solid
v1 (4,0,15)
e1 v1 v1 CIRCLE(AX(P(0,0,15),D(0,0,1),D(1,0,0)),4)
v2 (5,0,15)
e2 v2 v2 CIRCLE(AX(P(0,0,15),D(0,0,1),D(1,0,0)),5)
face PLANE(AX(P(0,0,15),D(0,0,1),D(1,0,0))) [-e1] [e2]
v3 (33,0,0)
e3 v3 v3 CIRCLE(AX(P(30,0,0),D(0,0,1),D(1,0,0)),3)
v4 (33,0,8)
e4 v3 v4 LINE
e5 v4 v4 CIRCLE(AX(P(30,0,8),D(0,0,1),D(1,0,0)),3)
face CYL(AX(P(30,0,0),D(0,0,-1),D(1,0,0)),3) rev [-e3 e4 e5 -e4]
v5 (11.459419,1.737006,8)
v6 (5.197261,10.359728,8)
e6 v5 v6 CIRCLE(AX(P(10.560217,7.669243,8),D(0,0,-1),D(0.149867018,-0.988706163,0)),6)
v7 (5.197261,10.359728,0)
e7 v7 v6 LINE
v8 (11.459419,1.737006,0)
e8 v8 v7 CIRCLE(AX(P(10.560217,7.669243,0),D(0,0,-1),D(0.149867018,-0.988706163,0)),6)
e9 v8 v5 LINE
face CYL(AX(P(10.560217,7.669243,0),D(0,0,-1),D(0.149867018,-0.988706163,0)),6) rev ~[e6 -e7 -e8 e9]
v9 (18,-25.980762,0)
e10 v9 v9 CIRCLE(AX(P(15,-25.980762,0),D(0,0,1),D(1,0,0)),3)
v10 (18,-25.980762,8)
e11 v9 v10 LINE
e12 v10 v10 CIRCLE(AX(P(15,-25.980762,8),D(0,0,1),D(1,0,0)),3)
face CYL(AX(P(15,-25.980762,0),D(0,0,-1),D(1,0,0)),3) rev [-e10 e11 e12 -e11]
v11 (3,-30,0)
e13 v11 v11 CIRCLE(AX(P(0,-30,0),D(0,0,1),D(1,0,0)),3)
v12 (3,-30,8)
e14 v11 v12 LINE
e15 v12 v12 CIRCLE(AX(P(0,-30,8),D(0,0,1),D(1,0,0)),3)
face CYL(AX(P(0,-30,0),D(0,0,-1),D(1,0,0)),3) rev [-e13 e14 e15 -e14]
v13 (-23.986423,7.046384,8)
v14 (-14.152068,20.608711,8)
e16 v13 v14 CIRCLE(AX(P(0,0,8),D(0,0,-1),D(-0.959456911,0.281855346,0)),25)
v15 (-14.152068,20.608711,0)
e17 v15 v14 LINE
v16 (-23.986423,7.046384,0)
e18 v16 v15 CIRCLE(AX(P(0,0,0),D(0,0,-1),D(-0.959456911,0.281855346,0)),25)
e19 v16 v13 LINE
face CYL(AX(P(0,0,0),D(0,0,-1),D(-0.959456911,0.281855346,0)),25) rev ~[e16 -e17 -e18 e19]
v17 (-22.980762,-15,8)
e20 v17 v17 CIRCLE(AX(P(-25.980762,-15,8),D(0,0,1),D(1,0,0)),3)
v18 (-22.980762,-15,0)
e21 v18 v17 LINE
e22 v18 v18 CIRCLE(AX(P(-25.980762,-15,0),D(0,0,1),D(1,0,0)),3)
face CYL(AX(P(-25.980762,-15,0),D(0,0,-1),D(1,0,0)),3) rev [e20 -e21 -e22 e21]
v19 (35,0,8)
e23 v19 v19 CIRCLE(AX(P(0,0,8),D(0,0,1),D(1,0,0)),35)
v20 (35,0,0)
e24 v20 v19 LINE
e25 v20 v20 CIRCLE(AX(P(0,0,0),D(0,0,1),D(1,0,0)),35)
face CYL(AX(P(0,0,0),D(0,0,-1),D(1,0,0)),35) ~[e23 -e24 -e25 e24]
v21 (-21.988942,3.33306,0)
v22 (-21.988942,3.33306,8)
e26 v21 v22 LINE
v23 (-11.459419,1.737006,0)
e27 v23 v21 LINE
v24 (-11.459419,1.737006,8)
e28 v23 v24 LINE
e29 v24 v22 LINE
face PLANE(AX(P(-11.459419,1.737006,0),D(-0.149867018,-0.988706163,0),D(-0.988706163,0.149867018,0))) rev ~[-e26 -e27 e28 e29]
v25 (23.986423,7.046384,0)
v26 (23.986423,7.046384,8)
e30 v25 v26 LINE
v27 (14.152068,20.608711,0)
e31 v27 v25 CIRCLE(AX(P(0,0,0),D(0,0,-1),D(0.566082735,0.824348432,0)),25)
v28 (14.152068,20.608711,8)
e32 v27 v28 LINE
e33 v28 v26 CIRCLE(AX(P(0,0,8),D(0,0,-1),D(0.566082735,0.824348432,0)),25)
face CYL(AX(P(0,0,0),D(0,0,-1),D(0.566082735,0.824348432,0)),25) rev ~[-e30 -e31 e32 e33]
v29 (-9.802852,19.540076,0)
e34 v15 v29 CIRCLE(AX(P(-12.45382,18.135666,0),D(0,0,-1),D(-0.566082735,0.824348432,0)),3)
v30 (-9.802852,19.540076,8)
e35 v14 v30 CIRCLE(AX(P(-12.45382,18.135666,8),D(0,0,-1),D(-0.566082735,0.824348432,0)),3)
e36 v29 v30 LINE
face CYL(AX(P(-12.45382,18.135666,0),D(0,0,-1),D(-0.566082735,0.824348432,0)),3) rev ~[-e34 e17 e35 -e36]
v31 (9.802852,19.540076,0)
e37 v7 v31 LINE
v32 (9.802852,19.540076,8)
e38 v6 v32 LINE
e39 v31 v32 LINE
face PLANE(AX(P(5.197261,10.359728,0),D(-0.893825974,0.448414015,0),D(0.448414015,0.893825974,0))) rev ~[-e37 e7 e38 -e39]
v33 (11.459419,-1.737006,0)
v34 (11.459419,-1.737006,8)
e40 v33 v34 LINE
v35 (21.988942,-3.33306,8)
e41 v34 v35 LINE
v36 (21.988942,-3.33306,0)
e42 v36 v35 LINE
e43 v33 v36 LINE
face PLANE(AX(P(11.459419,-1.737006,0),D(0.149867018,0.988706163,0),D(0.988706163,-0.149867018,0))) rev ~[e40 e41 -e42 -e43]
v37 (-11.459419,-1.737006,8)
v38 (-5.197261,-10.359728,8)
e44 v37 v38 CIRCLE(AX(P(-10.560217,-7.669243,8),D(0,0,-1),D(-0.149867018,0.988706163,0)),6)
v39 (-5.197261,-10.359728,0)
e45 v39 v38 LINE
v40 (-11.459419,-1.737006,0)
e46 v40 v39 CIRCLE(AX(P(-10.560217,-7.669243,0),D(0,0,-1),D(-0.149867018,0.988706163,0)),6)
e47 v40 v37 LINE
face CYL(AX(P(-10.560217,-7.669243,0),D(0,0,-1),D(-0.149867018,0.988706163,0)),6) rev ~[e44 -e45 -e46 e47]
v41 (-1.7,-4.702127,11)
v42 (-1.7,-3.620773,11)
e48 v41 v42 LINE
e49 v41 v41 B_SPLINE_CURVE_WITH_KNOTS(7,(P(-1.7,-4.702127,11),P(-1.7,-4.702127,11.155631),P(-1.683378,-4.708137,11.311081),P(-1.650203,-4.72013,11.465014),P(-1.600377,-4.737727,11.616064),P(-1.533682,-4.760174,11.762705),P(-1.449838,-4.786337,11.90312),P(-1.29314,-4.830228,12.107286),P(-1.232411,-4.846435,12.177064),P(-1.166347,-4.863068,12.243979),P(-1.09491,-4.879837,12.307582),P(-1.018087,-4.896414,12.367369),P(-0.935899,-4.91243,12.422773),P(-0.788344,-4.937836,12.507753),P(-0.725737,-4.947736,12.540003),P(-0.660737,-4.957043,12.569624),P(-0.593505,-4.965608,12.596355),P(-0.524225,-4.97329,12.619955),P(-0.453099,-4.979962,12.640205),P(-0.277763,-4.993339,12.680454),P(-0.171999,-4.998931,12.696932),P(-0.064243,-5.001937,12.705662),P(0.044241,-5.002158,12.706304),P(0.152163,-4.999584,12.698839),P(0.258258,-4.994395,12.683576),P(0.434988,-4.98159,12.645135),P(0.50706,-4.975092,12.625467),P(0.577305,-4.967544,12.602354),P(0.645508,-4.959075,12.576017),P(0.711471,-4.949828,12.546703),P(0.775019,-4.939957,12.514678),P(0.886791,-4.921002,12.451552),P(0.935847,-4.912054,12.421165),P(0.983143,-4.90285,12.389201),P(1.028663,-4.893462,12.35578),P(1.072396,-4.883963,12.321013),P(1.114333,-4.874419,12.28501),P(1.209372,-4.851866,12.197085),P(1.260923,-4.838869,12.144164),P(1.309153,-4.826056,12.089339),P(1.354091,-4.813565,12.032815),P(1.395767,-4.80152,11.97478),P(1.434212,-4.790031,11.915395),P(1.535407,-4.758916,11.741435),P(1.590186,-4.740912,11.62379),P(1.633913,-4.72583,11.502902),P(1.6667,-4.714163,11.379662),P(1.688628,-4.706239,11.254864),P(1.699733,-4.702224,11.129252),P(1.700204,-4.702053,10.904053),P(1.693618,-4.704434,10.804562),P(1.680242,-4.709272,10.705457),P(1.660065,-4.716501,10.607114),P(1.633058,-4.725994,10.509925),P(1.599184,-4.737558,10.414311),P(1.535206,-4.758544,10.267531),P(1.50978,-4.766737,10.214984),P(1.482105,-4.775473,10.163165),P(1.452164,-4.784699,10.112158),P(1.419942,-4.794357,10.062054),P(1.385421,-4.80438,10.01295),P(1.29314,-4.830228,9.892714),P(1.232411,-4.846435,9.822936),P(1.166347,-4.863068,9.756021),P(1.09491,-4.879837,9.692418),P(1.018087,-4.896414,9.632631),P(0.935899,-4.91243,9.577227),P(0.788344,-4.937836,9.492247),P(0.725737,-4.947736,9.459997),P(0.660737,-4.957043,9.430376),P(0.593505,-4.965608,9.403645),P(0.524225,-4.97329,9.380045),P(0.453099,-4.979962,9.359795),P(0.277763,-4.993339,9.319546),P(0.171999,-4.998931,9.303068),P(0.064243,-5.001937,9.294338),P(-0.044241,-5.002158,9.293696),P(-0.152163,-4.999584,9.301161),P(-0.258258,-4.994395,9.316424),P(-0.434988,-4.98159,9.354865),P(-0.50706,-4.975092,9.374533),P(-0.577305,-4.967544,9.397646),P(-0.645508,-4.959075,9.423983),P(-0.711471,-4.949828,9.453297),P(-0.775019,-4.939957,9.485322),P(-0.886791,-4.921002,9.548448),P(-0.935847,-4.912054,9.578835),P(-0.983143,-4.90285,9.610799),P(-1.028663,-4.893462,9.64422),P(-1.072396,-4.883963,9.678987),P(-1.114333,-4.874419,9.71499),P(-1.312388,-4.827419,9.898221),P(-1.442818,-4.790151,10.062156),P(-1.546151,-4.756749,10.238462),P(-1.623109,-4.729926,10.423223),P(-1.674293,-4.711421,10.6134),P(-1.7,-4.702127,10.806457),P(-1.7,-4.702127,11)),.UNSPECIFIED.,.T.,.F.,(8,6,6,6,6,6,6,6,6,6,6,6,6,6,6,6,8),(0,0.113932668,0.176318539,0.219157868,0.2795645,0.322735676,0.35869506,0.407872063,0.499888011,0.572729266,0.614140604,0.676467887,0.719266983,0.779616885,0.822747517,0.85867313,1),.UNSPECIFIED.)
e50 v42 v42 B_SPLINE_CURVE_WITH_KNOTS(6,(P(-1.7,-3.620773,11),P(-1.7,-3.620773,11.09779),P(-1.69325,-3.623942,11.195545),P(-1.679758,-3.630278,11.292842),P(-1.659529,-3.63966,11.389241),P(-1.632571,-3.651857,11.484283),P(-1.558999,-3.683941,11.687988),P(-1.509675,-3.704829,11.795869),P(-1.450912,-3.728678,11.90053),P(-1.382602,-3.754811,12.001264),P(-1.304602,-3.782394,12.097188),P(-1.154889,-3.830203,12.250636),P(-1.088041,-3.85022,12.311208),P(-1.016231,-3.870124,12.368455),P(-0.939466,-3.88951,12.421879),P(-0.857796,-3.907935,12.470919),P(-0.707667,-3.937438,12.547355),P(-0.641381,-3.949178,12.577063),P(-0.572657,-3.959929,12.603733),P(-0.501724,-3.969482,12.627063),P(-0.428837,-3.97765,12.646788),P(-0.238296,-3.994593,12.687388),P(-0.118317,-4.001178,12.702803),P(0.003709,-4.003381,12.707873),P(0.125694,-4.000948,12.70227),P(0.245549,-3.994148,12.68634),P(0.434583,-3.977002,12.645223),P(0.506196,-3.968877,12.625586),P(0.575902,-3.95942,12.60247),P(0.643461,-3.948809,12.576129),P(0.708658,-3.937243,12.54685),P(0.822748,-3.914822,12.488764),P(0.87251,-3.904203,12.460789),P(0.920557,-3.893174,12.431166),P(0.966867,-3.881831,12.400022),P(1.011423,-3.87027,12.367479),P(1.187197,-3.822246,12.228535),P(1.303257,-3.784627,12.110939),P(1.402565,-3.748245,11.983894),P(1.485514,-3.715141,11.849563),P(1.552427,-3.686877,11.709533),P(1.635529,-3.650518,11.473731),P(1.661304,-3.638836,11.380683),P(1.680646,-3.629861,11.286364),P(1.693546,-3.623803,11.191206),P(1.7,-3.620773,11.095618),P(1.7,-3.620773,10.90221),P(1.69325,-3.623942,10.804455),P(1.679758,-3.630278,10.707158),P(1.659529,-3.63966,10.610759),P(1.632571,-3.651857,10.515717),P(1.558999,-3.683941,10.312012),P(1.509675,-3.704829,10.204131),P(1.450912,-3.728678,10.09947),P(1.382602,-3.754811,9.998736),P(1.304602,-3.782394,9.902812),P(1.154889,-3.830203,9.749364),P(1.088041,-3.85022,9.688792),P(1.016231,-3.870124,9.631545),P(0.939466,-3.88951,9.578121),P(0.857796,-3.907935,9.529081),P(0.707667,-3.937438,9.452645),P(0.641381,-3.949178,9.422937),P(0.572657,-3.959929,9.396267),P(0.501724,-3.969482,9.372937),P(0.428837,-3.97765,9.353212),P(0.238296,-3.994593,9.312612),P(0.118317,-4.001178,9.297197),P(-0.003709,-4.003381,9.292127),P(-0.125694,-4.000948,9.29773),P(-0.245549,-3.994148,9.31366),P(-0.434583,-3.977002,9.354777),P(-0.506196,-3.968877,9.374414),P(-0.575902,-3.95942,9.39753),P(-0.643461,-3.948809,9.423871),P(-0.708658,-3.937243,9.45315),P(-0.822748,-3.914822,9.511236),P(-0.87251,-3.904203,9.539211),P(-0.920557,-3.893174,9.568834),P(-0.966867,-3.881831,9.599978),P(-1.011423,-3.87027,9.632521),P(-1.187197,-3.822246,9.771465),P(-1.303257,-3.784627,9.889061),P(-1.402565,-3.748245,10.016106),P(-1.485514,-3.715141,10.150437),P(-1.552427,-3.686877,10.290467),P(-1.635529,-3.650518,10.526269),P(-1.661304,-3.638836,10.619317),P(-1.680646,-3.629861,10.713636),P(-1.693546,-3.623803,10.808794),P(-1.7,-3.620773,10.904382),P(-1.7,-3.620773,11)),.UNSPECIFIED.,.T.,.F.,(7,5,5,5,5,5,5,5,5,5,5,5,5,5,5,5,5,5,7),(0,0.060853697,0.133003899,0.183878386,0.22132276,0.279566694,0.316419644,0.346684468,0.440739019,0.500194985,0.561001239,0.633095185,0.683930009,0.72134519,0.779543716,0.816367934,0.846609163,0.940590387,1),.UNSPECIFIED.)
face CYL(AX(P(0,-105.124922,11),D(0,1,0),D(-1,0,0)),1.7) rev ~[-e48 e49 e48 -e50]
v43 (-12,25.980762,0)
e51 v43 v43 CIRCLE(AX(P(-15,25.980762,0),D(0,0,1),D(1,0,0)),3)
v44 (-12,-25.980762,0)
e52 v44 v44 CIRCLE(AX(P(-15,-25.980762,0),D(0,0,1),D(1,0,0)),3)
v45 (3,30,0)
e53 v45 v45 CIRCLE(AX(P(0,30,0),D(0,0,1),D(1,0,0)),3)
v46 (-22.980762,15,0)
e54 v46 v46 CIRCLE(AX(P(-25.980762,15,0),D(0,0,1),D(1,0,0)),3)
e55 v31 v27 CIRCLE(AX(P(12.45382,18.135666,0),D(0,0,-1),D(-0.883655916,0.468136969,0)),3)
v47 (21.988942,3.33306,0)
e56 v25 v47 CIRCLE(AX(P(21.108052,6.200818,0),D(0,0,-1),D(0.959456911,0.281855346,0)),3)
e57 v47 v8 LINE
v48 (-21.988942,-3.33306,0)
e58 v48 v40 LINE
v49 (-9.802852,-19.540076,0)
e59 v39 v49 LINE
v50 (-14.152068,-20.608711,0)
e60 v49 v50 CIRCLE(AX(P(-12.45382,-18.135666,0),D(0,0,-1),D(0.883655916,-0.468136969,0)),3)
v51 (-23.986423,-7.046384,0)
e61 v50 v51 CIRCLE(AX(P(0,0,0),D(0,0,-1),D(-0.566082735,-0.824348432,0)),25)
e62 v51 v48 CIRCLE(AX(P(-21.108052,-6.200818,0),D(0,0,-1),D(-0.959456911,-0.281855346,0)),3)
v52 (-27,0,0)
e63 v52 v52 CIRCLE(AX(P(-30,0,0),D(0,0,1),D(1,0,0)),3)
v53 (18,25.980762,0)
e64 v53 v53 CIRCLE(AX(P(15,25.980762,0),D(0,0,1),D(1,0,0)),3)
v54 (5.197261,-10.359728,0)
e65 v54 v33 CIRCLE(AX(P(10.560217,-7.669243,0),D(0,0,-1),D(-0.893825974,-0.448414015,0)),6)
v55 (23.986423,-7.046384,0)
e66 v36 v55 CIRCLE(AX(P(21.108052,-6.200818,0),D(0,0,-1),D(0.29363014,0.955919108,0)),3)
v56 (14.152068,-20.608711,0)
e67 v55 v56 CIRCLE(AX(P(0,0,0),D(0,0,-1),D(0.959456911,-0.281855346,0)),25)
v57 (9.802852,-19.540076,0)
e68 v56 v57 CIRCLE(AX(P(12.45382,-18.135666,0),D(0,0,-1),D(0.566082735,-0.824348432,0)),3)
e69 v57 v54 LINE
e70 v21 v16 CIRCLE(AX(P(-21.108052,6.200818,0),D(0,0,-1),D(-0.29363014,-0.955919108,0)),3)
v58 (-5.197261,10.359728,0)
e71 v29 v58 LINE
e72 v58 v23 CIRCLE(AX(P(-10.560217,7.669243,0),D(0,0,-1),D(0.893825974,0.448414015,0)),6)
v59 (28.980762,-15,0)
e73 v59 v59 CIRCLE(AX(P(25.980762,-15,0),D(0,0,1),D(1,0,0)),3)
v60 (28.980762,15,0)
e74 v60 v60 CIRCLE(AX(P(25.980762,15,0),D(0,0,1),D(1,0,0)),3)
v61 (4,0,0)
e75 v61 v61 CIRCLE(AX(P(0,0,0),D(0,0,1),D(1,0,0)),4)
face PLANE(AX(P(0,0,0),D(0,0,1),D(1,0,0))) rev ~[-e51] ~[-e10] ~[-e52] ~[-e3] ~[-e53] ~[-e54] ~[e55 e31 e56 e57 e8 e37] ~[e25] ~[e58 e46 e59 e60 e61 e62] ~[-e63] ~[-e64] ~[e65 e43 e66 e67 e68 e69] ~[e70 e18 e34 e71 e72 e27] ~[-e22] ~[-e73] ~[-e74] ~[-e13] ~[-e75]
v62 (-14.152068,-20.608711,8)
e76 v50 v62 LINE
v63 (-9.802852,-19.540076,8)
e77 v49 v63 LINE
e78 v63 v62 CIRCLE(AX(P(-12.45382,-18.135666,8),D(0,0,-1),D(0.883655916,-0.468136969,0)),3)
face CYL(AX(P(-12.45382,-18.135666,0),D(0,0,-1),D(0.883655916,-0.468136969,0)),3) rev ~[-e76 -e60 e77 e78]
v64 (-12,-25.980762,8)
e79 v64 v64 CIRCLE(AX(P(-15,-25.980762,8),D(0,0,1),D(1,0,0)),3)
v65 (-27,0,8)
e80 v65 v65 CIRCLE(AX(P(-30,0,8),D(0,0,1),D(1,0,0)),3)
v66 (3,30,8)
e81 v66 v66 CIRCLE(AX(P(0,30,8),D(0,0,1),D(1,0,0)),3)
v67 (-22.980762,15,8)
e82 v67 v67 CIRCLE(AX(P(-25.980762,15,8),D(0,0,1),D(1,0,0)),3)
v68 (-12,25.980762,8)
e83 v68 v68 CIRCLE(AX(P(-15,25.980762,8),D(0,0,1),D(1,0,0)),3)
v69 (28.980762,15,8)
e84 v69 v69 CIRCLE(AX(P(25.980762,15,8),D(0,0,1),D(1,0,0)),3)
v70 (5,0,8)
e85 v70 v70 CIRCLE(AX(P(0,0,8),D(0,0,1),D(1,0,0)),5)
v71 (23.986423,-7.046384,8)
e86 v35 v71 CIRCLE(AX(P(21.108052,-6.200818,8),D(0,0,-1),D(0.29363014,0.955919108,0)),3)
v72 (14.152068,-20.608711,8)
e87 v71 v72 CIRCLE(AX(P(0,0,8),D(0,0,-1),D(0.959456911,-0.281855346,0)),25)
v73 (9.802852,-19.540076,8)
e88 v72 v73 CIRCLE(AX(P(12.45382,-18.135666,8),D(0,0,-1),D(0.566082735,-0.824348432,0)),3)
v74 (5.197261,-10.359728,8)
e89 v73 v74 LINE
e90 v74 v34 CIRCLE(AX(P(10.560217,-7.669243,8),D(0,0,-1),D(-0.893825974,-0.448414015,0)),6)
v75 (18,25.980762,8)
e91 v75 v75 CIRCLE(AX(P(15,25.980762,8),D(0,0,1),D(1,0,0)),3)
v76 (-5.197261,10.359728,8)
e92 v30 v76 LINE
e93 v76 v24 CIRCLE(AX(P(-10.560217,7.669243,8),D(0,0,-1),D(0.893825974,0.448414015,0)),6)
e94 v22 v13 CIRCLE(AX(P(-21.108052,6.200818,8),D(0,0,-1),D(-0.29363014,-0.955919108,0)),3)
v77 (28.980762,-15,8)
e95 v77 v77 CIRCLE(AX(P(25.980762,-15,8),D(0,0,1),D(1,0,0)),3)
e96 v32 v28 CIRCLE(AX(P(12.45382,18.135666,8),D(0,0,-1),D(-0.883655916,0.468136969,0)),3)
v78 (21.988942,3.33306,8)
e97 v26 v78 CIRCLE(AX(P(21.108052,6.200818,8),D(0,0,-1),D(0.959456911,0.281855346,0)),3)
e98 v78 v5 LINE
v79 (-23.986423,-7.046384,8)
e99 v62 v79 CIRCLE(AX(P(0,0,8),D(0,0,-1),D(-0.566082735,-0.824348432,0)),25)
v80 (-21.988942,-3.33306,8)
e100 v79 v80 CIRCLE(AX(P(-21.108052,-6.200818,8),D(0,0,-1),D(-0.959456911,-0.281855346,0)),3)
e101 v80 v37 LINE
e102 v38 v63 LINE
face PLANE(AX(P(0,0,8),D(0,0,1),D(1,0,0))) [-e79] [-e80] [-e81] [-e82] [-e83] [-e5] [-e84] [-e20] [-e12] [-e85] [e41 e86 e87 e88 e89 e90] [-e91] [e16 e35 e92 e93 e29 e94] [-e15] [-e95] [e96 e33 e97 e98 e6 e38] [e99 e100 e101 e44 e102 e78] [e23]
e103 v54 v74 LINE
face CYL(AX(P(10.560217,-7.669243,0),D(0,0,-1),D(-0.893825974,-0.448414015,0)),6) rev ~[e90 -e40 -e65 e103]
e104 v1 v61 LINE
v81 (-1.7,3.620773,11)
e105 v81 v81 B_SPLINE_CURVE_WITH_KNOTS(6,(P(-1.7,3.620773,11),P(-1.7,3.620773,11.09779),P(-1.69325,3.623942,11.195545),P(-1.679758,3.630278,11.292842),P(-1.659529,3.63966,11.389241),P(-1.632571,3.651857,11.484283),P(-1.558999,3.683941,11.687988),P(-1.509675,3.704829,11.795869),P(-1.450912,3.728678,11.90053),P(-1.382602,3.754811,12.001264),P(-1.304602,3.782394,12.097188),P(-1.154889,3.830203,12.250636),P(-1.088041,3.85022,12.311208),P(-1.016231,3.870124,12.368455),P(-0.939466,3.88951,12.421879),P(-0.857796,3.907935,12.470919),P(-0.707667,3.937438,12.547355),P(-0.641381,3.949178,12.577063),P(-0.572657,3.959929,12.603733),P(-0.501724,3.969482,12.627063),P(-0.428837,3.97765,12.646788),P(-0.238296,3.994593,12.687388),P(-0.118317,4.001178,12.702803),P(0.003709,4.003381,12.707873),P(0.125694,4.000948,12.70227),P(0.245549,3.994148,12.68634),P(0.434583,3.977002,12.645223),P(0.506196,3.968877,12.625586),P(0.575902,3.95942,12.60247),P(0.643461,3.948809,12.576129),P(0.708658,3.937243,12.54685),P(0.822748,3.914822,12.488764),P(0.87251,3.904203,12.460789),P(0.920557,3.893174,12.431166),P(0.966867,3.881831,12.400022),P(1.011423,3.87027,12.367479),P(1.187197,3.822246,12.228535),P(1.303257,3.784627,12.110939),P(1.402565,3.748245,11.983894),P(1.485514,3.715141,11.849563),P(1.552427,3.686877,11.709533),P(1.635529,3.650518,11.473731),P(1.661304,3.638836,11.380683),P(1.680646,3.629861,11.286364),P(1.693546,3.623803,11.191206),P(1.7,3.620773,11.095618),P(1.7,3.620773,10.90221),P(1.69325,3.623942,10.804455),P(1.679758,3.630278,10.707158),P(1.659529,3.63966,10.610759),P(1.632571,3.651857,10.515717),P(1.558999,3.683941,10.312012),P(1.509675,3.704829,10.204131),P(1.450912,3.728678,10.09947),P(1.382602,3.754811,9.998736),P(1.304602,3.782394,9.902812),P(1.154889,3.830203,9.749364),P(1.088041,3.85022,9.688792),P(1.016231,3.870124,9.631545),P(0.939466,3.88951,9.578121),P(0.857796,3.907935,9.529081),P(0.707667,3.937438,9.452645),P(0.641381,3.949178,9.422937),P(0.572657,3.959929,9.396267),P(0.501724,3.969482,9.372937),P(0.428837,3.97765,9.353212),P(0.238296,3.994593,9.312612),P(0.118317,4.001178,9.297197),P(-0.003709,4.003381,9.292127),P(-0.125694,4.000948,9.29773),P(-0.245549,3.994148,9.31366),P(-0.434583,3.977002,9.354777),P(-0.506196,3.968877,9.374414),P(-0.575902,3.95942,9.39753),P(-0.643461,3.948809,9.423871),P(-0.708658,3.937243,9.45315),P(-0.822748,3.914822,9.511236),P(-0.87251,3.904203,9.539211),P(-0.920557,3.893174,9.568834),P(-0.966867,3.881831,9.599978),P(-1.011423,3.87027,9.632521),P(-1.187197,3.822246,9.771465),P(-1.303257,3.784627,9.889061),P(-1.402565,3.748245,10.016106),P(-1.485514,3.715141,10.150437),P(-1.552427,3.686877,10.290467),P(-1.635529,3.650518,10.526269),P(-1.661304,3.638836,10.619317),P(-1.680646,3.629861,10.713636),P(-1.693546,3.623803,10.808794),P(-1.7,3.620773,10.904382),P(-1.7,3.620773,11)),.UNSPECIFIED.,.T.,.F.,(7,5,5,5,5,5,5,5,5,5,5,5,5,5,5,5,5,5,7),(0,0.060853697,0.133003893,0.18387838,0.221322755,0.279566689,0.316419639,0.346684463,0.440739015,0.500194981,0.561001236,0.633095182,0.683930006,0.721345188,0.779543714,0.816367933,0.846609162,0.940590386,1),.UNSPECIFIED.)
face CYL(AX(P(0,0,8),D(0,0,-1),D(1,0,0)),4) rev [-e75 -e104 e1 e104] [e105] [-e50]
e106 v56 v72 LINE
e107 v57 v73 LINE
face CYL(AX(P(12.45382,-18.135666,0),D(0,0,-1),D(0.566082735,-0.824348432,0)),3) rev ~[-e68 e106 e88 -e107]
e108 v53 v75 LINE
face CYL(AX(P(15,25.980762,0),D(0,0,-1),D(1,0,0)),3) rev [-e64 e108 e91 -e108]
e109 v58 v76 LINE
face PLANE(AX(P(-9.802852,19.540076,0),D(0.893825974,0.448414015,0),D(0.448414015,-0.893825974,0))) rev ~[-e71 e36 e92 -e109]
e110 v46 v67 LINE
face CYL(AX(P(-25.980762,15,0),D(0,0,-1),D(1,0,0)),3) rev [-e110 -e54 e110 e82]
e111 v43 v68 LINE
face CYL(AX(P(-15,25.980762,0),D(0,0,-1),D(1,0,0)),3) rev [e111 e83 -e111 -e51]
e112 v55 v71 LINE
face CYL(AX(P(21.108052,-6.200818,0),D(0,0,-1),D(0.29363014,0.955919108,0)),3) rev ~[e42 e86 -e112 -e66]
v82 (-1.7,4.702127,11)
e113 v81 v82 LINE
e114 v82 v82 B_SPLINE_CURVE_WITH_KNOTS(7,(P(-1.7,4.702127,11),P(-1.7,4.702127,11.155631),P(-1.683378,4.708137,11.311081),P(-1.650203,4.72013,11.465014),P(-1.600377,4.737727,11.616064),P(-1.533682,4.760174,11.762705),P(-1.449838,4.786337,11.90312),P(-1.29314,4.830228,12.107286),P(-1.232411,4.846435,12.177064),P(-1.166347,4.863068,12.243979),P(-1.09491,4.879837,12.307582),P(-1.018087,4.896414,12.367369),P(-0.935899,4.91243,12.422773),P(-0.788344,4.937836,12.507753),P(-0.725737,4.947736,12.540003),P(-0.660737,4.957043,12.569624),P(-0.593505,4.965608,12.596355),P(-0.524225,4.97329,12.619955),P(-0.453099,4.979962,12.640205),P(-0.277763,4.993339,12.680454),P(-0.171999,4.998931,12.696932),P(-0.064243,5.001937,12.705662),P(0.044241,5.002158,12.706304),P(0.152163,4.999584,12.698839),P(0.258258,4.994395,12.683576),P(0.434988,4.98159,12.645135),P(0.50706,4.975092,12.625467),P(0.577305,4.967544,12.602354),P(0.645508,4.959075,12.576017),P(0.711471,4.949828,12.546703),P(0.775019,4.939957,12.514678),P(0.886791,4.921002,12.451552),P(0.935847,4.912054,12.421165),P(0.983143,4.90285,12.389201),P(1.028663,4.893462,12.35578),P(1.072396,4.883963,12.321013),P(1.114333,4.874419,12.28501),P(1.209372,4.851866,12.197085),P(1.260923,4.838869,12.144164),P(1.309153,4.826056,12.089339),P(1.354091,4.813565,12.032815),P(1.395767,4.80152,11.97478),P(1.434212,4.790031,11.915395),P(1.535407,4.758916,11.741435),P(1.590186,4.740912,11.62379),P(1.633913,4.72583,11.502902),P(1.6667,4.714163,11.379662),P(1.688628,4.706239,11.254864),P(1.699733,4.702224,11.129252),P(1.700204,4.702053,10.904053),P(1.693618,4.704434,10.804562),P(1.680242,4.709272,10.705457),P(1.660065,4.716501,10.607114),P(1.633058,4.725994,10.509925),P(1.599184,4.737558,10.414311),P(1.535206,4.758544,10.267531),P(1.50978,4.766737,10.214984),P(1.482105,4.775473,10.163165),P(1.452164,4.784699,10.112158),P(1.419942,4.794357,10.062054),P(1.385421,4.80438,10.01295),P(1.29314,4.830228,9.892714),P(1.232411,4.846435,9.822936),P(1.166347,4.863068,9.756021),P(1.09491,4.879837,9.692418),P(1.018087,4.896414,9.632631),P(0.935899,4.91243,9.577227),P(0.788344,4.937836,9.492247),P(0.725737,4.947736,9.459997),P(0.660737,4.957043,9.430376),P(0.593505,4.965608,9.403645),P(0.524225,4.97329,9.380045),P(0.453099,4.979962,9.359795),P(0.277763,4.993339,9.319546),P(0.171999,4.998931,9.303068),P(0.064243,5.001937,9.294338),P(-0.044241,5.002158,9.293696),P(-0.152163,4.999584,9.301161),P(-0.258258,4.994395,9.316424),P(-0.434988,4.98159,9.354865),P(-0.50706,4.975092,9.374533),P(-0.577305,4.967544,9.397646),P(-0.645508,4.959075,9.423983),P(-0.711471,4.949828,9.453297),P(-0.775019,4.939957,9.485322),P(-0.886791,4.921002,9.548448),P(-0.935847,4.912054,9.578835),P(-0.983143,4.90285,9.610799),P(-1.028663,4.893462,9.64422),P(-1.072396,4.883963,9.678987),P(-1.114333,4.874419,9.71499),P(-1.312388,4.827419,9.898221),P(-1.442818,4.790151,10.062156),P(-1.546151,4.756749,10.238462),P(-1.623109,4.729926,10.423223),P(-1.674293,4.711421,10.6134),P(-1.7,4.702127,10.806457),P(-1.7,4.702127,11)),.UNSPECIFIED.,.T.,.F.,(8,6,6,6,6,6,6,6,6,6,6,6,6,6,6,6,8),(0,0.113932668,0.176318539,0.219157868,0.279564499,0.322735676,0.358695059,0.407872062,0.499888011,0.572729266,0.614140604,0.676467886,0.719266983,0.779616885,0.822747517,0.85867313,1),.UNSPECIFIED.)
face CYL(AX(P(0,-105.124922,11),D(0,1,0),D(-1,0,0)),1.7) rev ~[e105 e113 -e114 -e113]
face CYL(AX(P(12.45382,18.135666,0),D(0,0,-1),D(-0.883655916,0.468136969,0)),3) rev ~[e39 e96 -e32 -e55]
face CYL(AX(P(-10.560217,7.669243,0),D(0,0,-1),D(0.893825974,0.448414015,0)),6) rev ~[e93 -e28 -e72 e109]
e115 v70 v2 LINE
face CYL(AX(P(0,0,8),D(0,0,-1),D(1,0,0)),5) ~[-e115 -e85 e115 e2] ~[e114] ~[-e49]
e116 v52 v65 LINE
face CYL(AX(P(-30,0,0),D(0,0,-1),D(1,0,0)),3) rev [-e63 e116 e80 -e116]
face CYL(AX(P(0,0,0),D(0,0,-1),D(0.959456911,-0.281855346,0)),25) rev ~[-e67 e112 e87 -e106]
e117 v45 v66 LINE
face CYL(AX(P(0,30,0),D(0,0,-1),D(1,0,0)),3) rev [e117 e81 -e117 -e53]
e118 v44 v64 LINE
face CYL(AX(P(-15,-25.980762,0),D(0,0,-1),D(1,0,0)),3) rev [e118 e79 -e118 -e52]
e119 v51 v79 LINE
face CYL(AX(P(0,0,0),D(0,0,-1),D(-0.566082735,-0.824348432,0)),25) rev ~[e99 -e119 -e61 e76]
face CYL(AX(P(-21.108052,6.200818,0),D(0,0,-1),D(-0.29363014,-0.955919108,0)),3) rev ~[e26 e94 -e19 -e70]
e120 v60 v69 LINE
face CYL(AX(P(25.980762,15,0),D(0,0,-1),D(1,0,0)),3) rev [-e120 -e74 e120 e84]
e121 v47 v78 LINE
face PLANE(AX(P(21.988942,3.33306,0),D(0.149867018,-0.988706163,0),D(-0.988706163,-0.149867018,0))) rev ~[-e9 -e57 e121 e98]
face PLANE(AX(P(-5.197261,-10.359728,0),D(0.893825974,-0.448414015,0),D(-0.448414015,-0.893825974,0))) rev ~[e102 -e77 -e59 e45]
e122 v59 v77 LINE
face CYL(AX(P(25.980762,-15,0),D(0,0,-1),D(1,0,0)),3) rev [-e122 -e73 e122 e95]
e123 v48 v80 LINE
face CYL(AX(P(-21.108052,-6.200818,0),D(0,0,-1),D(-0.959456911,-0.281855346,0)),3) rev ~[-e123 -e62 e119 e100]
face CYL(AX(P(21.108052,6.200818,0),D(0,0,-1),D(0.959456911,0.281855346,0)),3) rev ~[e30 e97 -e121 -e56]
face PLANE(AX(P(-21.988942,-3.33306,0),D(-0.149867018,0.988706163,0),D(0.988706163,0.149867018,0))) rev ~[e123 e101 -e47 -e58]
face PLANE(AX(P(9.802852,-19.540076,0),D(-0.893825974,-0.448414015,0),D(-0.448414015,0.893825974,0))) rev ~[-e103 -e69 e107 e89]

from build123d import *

# Parameters (mm, degrees)
F0_R     = 35
F0_R_2   = 3
F0_R_3   = 4
F1_DEPTH = 8
F2_R     = 5
F2_R_2   = 4
F3_DEPTH = 7
F6_D     = 3.4


with BuildPart() as f1:
    # F0 (on Top) → F1 (new body)
    with BuildSketch(Plane.XY):
        Circle(F0_R)
        with Locations((-15, -25.9807621135)):
            Circle(F0_R_2, mode=Mode.SUBTRACT)
        with Locations((-25.9807621135, -15)):
            Circle(F0_R_2, mode=Mode.SUBTRACT)
        with BuildLine():
            ThreePointArc((-14.1520683747, -20.6087107971), (-20.2390786896, -14.6758200382), (-23.9864227741, -7.0463836473))
            ThreePointArc((-23.9864227741, -7.0463836473), (-23.7500595541, -4.779622232), (-21.9889424597, -3.3330602854))
            Line((-21.9889424597, -3.3330602854), (-11.4594190982, -1.7370064413))
            ThreePointArc((-11.4594190982, -1.7370064413), (-5.7054148294, -4.143495838), (-5.1972611447, -10.3597275079))
            Line((-5.1972611447, -10.3597275079), (-9.8028524215, -19.5400764091))
            ThreePointArc((-9.8028524215, -19.5400764091), (-11.7379895363, -21.049011774), (-14.1520683747, -20.6087107971))
        make_face(mode=Mode.SUBTRACT)
        with Locations((0, -30)):
            Circle(F0_R_2, mode=Mode.SUBTRACT)
        with Locations((15, -25.9807621135)):
            Circle(F0_R_2, mode=Mode.SUBTRACT)
        with BuildLine():
            ThreePointArc((21.9889424597, -3.3330602854), (23.7500595541, -4.779622232), (23.9864227741, -7.0463836473))
            ThreePointArc((23.9864227741, -7.0463836473), (20.2390786896, -14.6758200382), (14.1520683747, -20.6087107971))
            ThreePointArc((14.1520683747, -20.6087107971), (11.7379895363, -21.049011774), (9.8028524215, -19.5400764091))
            Line((9.8028524215, -19.5400764091), (5.1972611447, -10.3597275079))
            ThreePointArc((5.1972611447, -10.3597275079), (5.7054148294, -4.143495838), (11.4594190982, -1.7370064413))
            Line((11.4594190982, -1.7370064413), (21.9889424597, -3.3330602854))
        make_face(mode=Mode.SUBTRACT)
        with Locations((25.9807621135, -15)):
            Circle(F0_R_2, mode=Mode.SUBTRACT)
        with Locations((-30, 0)):
            Circle(F0_R_2, mode=Mode.SUBTRACT)
        with Locations((-25.9807621135, 15)):
            Circle(F0_R_2, mode=Mode.SUBTRACT)
        with BuildLine():
            ThreePointArc((-23.9864227741, 7.0463836473), (-20.2390786896, 14.6758200382), (-14.1520683747, 20.6087107971))
            ThreePointArc((-14.1520683747, 20.6087107971), (-11.7379895363, 21.049011774), (-9.8028524215, 19.5400764091))
            Line((-9.8028524215, 19.5400764091), (-5.1972611447, 10.3597275079))
            ThreePointArc((-5.1972611447, 10.3597275079), (-5.7054148294, 4.143495838), (-11.4594190982, 1.7370064413))
            Line((-11.4594190982, 1.7370064413), (-21.9889424597, 3.3330602854))
            ThreePointArc((-21.9889424597, 3.3330602854), (-23.7500595541, 4.779622232), (-23.9864227741, 7.0463836473))
        make_face(mode=Mode.SUBTRACT)
        with Locations((-15, 25.9807621135)):
            Circle(F0_R_2, mode=Mode.SUBTRACT)
        Circle(F0_R_3, mode=Mode.SUBTRACT)
        with BuildLine():
            ThreePointArc((9.8028524215, 19.5400764091), (11.7379895363, 21.049011774), (14.1520683747, 20.6087107971))
            ThreePointArc((14.1520683747, 20.6087107971), (20.2390786896, 14.6758200382), (23.9864227741, 7.0463836473))
            ThreePointArc((23.9864227741, 7.0463836473), (23.7500595541, 4.779622232), (21.9889424597, 3.3330602854))
            Line((21.9889424597, 3.3330602854), (11.4594190982, 1.7370064413))
            ThreePointArc((11.4594190982, 1.7370064413), (5.7054148294, 4.143495838), (5.1972611447, 10.3597275079))
            Line((5.1972611447, 10.3597275079), (9.8028524215, 19.5400764091))
        make_face(mode=Mode.SUBTRACT)
        with Locations((30, 0)):
            Circle(F0_R_2, mode=Mode.SUBTRACT)
        with Locations((25.9807621135, 15)):
            Circle(F0_R_2, mode=Mode.SUBTRACT)
        with Locations((15, 25.9807621135)):
            Circle(F0_R_2, mode=Mode.SUBTRACT)
        with Locations((0, 30)):
            Circle(F0_R_2, mode=Mode.SUBTRACT)
    extrude(amount=F1_DEPTH)

    # F2 (on face) → F3 (join)
    with BuildSketch(Plane.XY.offset(8)):
        Circle(F2_R)
        Circle(F2_R_2, mode=Mode.SUBTRACT)
    extrude(amount=F3_DEPTH)

    # F6 (through all)
    with Locations(Plane.XZ.offset(5)):
        with Locations((0, 11)):
            Hole(F6_D / 2)


solid = f1.part
